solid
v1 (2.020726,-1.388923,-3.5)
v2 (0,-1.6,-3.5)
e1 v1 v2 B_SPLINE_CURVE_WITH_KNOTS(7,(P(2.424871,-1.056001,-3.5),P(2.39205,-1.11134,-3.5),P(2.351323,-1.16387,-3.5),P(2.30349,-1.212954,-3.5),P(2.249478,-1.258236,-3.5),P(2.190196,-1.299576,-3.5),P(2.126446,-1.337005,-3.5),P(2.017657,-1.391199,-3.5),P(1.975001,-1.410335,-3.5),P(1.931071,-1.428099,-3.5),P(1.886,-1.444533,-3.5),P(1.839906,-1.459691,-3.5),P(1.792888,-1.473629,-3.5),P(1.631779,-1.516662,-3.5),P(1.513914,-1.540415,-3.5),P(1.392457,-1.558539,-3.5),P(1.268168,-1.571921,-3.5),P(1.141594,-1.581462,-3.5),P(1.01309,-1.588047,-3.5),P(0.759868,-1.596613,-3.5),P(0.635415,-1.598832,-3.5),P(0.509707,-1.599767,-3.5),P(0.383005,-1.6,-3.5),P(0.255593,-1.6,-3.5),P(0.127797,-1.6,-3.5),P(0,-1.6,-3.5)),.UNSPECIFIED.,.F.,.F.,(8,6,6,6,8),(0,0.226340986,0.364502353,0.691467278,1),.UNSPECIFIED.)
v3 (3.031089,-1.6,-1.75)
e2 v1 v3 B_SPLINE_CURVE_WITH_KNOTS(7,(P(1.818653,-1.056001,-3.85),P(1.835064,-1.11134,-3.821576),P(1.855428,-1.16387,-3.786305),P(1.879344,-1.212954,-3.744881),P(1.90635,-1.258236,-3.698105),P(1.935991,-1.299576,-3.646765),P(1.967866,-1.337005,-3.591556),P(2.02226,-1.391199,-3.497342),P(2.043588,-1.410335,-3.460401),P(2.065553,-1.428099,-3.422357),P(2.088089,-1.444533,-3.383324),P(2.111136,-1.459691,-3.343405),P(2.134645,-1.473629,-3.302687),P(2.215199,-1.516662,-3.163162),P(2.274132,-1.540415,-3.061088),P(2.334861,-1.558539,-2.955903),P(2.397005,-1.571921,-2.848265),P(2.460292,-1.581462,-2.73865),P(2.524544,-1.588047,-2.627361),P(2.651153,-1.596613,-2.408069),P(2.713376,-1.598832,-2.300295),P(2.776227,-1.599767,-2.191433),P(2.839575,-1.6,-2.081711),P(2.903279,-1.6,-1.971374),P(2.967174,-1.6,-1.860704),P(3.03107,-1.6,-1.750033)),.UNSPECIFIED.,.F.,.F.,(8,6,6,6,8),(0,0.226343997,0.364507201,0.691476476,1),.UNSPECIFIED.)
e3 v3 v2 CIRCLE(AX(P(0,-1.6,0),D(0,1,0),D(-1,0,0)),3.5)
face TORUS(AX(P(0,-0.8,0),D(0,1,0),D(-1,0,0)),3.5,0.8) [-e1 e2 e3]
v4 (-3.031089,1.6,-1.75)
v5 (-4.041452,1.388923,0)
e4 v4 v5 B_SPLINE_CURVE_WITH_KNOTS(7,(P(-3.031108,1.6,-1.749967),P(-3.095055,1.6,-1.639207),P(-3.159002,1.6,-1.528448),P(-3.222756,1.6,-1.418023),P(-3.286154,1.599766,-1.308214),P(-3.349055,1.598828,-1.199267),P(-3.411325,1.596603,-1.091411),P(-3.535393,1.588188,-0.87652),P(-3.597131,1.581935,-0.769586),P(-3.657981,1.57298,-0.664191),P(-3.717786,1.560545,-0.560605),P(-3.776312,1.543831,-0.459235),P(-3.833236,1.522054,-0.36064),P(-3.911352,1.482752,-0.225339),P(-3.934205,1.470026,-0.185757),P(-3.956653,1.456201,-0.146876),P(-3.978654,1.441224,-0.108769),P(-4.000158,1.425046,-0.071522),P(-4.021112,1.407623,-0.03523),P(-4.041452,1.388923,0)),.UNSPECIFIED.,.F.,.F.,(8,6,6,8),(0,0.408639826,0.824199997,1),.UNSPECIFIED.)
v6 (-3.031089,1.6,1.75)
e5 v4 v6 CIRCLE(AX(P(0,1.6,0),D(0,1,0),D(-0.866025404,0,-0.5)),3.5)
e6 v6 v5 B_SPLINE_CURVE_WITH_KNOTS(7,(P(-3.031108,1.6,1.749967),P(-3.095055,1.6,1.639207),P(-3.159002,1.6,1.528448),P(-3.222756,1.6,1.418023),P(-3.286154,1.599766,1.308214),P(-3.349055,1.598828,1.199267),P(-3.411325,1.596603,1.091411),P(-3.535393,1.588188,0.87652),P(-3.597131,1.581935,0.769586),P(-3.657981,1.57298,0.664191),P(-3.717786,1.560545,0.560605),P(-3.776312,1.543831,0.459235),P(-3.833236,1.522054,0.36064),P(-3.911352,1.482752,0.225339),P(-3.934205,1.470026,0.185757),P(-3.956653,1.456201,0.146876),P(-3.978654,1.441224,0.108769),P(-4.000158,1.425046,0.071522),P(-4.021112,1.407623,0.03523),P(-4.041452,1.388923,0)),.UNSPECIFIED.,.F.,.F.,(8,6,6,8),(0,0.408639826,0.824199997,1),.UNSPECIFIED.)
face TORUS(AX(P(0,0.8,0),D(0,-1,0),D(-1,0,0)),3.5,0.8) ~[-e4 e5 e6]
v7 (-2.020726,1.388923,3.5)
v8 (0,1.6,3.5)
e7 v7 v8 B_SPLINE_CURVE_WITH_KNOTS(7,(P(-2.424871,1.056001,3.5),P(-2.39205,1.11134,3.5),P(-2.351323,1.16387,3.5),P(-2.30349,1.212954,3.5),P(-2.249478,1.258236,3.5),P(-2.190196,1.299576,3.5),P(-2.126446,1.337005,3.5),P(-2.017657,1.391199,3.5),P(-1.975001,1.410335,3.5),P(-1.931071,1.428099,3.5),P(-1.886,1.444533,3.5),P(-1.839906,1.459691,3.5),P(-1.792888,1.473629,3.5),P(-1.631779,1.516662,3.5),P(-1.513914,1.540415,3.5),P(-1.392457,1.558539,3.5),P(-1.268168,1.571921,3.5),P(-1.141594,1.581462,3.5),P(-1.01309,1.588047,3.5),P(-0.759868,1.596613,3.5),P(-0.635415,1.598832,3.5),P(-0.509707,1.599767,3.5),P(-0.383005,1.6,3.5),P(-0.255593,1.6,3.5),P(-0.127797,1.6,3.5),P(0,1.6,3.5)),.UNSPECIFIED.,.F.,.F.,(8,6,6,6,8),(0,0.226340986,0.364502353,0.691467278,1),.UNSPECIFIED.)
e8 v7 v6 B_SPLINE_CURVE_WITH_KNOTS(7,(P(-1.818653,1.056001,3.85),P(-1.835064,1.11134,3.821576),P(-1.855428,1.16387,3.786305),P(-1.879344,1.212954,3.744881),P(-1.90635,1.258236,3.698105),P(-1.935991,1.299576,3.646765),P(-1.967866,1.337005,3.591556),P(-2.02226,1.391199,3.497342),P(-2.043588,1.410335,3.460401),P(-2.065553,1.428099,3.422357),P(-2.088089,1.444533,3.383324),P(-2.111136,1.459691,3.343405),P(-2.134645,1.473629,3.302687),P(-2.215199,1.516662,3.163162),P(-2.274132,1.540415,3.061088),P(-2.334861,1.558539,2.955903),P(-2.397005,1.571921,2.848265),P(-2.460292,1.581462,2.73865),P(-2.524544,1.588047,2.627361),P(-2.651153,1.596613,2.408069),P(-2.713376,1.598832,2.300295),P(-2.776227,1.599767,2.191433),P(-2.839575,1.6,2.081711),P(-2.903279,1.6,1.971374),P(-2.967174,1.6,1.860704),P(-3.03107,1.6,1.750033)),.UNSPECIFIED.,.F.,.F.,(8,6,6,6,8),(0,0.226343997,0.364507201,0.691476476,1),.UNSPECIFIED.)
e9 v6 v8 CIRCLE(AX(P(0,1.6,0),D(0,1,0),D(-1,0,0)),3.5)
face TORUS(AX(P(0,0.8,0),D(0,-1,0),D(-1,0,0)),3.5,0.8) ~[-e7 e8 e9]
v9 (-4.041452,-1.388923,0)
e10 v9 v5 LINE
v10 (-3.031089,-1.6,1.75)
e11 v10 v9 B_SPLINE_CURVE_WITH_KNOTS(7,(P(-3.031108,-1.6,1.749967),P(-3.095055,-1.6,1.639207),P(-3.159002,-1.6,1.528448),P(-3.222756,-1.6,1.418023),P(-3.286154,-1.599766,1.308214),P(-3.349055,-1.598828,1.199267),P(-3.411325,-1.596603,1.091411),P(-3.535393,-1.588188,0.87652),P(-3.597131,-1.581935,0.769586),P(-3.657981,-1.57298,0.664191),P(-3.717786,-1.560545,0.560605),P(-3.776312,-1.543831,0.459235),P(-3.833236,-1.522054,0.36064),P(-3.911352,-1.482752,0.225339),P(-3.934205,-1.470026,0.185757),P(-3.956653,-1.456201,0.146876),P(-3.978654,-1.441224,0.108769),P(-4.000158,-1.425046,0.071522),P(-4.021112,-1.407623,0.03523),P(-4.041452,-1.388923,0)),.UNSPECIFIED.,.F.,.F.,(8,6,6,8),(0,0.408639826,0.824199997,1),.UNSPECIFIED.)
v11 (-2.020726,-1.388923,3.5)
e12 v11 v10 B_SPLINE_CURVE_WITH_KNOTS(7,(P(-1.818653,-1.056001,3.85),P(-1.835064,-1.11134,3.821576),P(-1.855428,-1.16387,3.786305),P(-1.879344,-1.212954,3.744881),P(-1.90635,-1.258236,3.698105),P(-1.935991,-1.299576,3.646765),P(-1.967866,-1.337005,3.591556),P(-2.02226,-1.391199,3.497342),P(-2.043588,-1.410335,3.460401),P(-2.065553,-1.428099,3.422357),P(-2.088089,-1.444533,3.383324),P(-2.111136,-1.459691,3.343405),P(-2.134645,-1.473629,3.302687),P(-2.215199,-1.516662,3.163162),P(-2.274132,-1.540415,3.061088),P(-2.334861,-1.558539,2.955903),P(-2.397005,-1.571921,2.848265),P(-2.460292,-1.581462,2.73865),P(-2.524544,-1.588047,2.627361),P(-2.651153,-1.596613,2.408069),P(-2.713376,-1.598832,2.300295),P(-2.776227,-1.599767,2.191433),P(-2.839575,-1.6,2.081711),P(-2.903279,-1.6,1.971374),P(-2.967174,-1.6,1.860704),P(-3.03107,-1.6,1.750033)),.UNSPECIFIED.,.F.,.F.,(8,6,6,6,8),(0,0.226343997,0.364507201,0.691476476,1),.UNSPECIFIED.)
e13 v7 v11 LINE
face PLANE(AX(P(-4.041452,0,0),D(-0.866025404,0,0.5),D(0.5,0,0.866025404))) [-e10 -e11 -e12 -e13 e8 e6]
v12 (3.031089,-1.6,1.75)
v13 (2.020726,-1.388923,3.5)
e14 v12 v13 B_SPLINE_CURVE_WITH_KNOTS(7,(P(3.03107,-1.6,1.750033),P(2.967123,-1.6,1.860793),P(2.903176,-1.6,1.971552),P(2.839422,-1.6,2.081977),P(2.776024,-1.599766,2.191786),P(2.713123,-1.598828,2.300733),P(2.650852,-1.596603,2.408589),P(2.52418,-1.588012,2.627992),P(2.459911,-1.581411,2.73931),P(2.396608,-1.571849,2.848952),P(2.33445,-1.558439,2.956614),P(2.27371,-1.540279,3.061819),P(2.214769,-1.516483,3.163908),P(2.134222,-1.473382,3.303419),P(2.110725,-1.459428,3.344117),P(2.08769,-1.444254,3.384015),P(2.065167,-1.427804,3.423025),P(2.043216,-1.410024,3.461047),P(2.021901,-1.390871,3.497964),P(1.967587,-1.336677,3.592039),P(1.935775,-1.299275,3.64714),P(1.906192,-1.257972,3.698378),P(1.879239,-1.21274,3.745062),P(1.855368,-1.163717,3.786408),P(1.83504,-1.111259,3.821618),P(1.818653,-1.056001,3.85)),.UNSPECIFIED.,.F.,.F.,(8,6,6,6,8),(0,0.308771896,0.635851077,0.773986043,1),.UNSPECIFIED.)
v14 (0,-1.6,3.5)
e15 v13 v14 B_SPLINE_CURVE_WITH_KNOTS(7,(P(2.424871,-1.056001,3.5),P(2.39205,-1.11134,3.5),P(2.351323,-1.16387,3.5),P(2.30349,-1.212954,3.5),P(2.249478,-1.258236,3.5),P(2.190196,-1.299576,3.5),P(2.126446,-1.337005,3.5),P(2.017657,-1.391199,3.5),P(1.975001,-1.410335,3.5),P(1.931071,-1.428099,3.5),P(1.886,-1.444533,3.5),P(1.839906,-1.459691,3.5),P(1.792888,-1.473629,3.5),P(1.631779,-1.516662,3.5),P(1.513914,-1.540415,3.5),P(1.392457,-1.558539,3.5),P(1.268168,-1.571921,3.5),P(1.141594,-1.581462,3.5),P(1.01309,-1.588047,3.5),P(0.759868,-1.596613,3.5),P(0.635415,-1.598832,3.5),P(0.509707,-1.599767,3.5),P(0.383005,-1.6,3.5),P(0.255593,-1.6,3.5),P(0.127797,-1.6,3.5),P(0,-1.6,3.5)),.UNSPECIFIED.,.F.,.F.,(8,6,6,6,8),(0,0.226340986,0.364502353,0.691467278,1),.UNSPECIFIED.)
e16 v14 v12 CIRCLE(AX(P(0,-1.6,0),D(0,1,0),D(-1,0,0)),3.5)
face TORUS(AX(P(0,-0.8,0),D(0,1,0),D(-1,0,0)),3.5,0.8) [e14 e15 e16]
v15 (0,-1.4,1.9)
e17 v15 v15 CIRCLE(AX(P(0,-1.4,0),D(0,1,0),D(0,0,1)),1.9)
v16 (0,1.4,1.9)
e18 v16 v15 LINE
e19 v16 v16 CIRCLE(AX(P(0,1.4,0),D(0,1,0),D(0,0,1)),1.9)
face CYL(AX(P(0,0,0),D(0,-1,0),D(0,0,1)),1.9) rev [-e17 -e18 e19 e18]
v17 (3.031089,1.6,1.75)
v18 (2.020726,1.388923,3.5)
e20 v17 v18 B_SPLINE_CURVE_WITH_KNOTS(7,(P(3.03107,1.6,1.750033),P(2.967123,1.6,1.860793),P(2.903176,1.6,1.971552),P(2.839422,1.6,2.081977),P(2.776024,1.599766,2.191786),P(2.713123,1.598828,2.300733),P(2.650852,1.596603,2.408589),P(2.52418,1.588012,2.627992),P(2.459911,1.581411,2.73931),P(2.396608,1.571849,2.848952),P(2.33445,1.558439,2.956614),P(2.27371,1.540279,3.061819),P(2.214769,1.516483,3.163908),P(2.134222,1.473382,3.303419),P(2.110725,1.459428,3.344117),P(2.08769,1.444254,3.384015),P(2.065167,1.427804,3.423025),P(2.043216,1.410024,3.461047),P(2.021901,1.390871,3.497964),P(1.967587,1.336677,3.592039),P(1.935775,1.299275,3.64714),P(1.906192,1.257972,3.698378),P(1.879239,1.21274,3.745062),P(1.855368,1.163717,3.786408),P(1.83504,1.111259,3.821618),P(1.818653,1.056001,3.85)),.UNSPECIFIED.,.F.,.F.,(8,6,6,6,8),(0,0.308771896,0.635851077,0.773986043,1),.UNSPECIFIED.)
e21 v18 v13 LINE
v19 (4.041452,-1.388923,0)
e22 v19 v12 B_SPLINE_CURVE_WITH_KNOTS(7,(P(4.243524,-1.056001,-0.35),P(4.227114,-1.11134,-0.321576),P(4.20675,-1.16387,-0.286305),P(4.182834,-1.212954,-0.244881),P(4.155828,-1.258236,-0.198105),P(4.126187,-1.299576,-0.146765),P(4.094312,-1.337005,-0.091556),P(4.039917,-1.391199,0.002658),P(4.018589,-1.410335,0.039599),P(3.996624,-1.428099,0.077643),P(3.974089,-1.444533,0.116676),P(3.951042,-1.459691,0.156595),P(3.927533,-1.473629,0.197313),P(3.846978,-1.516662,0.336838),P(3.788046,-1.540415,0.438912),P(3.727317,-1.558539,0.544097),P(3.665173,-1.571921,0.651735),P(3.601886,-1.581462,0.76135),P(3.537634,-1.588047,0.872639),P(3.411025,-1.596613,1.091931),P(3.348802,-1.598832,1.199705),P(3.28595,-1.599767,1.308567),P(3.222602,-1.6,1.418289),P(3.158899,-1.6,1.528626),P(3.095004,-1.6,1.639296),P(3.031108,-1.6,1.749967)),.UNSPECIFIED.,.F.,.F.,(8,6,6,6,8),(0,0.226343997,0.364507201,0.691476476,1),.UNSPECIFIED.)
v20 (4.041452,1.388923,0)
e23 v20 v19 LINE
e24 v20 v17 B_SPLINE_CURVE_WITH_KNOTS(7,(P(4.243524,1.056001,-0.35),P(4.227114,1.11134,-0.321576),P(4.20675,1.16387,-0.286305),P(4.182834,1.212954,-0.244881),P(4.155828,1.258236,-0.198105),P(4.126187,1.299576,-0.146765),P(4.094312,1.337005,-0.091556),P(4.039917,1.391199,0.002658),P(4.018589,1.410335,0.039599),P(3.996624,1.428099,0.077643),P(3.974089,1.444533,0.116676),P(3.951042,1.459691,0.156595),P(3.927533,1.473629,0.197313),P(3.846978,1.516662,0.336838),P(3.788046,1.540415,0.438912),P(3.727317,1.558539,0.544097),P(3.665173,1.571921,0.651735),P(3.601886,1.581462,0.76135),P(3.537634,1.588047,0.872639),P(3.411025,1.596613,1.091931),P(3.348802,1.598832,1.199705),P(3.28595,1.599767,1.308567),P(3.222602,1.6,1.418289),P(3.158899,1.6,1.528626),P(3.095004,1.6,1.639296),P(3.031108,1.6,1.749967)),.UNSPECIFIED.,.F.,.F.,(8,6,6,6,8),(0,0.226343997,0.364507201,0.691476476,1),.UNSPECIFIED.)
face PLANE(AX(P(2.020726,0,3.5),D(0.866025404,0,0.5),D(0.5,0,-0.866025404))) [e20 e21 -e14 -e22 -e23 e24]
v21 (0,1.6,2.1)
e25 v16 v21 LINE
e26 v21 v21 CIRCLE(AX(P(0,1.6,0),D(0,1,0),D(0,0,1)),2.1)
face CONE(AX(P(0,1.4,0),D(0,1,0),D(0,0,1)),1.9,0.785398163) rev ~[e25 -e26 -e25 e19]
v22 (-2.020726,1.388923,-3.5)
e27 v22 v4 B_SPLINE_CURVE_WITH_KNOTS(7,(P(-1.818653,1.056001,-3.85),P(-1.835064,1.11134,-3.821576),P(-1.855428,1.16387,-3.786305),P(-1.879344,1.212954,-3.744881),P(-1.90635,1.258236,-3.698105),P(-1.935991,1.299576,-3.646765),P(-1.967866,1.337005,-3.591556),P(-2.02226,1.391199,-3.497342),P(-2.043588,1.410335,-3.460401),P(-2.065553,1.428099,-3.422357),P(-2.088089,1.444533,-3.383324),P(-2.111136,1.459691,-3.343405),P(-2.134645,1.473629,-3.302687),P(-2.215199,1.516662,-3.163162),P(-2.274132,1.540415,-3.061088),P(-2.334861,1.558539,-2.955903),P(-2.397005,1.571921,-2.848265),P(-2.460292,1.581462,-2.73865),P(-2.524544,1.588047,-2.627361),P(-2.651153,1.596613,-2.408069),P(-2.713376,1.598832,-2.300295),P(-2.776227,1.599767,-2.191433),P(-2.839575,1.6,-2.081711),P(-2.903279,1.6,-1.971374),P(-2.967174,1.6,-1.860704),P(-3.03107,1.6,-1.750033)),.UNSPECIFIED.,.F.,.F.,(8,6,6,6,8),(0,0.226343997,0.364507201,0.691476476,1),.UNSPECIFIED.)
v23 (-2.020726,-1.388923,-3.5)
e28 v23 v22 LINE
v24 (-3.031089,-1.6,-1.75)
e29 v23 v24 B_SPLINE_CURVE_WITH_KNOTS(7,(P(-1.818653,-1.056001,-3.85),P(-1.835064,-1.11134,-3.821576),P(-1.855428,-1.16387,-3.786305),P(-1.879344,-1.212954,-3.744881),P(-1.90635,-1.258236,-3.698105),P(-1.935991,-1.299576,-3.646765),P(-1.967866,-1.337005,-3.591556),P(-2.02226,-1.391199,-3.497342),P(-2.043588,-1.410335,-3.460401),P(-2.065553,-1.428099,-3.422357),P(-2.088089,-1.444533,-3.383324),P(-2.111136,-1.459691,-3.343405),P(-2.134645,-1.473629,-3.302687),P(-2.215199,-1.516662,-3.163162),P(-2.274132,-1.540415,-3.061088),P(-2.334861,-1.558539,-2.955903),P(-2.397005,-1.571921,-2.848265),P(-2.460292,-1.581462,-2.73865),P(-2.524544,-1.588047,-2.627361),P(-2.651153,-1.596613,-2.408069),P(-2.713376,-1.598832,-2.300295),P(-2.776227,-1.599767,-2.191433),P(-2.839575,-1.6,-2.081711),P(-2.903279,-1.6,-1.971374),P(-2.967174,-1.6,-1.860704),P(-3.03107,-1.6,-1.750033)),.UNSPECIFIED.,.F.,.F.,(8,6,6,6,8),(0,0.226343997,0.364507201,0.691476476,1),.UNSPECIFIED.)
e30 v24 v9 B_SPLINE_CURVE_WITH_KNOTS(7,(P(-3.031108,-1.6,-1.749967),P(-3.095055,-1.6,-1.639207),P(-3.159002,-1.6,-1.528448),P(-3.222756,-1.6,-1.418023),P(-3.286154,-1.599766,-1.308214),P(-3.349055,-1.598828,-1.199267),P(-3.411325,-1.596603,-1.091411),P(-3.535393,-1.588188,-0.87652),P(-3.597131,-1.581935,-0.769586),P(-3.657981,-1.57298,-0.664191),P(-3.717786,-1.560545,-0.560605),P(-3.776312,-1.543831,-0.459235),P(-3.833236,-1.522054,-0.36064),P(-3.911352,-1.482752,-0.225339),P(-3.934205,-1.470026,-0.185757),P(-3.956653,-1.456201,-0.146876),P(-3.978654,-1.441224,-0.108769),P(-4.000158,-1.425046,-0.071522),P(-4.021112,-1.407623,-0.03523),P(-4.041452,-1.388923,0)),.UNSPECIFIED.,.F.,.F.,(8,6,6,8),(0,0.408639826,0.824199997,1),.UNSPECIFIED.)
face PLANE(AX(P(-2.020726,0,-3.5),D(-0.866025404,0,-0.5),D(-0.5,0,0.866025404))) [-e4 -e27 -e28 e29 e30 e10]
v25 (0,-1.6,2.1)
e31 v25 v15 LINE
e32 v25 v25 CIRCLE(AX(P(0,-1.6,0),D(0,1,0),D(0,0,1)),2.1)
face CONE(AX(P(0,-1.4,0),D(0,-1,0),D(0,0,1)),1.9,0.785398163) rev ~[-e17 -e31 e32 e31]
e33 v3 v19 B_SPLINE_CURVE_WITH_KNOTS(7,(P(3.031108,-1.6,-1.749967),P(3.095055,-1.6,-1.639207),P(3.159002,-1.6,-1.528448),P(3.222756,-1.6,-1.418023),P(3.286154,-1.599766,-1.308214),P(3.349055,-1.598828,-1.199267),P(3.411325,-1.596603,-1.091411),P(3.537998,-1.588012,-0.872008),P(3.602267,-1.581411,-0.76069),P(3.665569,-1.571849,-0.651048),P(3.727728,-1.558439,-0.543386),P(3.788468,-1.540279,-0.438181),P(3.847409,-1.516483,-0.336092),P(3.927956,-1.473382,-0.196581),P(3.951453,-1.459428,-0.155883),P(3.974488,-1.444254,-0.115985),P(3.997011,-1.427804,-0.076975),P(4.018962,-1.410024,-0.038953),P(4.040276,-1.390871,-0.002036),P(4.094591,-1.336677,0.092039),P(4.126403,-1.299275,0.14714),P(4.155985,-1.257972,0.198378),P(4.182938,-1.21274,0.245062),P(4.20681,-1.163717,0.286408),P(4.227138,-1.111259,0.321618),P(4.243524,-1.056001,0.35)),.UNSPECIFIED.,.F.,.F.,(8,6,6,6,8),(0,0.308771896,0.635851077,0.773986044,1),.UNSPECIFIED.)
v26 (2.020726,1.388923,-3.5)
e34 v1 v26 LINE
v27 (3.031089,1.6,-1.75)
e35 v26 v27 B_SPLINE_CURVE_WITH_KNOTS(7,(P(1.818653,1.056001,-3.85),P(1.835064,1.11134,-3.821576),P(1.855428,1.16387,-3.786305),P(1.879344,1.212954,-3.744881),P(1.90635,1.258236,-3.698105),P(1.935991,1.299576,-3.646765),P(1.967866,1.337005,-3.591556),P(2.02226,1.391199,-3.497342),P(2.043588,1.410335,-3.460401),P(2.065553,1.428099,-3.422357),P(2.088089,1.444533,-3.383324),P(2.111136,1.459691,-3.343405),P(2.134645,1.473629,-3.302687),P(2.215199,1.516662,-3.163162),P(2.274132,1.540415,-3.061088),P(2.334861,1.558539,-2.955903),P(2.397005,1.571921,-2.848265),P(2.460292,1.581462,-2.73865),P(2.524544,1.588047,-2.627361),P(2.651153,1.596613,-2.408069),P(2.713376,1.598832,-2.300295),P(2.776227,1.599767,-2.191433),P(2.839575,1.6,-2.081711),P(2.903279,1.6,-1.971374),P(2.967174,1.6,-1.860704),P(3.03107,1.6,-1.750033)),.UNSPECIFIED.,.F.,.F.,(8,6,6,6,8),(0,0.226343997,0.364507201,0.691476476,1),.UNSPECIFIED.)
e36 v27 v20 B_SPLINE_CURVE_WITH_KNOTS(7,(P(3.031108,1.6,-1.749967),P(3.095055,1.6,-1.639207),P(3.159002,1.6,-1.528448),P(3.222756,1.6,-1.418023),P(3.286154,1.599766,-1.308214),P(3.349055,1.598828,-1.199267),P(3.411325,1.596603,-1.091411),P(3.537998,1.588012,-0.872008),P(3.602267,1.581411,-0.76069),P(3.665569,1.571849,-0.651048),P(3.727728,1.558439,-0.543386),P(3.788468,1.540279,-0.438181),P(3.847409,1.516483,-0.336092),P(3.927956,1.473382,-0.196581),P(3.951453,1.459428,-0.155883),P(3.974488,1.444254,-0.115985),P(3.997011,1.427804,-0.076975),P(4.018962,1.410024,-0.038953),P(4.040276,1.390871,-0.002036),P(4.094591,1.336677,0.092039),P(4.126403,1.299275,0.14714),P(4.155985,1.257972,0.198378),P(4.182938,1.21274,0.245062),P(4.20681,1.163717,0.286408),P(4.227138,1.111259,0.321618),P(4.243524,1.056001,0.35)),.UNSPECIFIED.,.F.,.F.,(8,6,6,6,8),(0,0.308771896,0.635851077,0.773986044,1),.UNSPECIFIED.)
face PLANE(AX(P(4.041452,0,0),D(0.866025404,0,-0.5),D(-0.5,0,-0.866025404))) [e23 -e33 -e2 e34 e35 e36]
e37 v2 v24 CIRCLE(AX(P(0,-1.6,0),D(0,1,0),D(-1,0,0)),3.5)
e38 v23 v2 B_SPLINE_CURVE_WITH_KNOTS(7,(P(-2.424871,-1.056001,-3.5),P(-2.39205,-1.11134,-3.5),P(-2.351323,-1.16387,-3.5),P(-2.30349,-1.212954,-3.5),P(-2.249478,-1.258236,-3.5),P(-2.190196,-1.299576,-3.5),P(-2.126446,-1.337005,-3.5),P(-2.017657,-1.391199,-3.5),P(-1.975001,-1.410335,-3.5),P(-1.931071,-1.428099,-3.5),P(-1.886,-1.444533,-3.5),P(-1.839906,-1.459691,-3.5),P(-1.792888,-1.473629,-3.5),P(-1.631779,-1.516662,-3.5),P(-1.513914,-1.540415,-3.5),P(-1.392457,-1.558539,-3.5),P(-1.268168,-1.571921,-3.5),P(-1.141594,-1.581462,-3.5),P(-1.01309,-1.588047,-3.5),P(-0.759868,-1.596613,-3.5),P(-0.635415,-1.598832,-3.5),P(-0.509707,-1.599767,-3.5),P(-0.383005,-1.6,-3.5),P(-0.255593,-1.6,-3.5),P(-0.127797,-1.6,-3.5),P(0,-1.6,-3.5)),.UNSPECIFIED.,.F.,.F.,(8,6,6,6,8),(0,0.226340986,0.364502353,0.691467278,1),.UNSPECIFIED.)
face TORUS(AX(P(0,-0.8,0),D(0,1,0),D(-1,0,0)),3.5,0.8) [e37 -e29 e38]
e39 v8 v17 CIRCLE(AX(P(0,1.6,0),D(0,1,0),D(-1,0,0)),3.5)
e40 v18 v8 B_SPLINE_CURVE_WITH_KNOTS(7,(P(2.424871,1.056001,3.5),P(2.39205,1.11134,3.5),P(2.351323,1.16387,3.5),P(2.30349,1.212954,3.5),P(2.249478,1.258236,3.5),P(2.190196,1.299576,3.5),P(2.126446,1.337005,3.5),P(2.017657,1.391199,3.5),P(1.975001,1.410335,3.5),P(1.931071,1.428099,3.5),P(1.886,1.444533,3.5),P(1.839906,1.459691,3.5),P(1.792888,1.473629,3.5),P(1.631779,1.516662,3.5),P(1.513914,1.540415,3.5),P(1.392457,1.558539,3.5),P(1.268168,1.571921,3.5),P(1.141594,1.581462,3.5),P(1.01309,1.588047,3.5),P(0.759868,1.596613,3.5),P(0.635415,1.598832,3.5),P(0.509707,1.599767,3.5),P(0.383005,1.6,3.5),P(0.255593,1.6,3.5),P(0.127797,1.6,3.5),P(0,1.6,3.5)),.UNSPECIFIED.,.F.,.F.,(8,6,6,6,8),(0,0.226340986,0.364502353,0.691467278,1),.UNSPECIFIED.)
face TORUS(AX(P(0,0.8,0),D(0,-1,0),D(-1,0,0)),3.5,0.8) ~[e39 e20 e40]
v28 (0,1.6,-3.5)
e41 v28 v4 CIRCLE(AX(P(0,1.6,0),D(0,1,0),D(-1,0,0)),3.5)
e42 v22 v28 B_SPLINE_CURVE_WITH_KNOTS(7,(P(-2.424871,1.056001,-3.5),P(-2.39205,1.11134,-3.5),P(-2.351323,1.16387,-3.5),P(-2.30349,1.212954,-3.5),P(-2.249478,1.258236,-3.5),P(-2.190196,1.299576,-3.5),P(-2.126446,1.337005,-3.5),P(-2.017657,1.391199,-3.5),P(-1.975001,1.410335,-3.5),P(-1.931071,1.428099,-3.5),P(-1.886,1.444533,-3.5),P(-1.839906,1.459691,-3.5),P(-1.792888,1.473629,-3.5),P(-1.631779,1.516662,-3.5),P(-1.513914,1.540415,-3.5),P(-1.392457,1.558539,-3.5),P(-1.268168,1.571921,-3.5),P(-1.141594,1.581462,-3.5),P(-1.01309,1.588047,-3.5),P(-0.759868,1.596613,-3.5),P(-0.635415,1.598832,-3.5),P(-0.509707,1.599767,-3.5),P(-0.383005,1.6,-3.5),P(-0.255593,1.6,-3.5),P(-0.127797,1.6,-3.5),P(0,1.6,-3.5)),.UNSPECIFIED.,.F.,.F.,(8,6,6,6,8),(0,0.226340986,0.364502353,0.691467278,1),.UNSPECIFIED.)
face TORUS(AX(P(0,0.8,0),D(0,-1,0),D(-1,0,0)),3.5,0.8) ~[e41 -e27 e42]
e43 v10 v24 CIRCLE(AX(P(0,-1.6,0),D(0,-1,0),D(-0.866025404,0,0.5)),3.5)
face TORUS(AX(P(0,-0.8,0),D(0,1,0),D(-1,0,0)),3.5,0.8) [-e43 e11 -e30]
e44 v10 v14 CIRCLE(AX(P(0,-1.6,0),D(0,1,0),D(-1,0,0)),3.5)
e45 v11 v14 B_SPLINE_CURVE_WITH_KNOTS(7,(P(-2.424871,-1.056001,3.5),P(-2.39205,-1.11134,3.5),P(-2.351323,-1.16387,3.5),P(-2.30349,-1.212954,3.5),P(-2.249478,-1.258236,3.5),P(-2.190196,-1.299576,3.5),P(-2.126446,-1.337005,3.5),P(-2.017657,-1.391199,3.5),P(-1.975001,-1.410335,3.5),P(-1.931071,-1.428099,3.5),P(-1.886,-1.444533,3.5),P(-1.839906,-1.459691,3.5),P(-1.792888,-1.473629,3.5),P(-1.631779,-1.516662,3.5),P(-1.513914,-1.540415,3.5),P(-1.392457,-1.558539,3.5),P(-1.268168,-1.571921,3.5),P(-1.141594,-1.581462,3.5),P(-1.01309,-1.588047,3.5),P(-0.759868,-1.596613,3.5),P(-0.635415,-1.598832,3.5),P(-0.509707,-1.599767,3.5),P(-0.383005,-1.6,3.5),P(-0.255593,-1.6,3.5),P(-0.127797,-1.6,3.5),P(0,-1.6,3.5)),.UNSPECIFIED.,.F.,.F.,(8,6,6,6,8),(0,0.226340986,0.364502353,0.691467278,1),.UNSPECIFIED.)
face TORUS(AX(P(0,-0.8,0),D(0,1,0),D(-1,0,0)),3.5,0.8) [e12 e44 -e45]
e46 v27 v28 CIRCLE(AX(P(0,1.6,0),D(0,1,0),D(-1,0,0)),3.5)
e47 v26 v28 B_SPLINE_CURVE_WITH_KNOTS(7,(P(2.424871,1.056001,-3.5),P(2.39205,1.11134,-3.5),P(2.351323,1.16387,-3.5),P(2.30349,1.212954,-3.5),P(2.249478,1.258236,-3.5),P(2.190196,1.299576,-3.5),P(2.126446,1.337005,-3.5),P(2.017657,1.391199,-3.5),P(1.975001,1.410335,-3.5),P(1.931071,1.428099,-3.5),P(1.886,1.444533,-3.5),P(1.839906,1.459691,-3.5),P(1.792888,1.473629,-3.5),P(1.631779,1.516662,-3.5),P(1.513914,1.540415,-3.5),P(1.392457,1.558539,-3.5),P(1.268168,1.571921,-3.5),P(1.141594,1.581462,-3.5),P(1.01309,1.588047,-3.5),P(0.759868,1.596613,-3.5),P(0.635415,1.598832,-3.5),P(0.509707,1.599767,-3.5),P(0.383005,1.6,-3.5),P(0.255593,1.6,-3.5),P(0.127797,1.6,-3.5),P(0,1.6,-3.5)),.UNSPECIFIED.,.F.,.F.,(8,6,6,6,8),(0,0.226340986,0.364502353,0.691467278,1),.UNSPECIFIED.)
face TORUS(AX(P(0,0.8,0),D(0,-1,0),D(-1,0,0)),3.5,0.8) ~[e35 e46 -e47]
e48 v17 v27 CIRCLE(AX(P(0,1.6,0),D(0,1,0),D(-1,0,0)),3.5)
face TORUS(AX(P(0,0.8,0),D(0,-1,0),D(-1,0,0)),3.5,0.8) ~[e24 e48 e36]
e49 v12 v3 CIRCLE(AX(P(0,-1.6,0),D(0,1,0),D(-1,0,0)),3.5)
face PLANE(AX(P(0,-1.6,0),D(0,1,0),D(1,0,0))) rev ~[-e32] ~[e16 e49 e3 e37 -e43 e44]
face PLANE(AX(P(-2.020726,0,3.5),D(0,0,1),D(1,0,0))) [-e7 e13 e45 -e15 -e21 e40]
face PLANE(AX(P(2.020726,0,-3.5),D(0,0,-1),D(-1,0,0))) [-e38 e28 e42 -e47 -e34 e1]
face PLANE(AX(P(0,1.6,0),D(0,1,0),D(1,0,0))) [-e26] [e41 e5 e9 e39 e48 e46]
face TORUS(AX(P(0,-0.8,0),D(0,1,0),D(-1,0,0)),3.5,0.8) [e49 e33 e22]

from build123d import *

# Parameters (mm, degrees)
SKETCH1_R           = 1.9
BOSS_EXTRUDE1_DEPTH = 1.6
CHAMFER1_SIZE       = 0.2


with BuildPart() as part:
    # Sketch1 → Boss-Extrude1 (new, symmetric)
    with BuildSketch(Plane(origin=(0, 0, 0), x_dir=(1, 0, 0), z_dir=(0, 1, 0))):
        Polygon((4.041451884, 0), (2.020725942, 3.5), (-2.020725942, 3.5), (-4.041451884, 0), (-2.020725942, -3.5), (2.020725942, -3.5), align=None)
        with Locations(Location((0, 0, 0), (0, 0, 270))):
            Circle(SKETCH1_R, mode=Mode.SUBTRACT)
    extrude(amount=BOSS_EXTRUDE1_DEPTH, both=True)

    # Sketch2 → Cut-Revolve1 (revolve, cut)
    with BuildSketch(Plane.XY):
        with BuildLine():
            Line((-4.3, -0.8), (-4.3, -1.6))
            Line((-4.3, -1.6), (-3.5, -1.6))
            ThreePointArc((-3.5, -1.6), (-4.065685425, -1.365685425), (-4.3, -0.8))
        make_face()
    cut_revolve1 = revolve(axis=Axis((0, 0, 0), (0, 1, 0)), mode=Mode.SUBTRACT)

    # Mirror2: Cut-Revolve1 across plane
    add(cut_revolve1.mirror(Plane.ZX), mode=Mode.SUBTRACT)

    # Chamfer1
    chamfer1_edges = [part.edges().sort_by_distance(p)[0] for p in [
        (0, -1.6, -1.9),
        (0, 1.6, -1.9),
    ]]
    chamfer(chamfer1_edges, length=CHAMFER1_SIZE)


solid = part.part
